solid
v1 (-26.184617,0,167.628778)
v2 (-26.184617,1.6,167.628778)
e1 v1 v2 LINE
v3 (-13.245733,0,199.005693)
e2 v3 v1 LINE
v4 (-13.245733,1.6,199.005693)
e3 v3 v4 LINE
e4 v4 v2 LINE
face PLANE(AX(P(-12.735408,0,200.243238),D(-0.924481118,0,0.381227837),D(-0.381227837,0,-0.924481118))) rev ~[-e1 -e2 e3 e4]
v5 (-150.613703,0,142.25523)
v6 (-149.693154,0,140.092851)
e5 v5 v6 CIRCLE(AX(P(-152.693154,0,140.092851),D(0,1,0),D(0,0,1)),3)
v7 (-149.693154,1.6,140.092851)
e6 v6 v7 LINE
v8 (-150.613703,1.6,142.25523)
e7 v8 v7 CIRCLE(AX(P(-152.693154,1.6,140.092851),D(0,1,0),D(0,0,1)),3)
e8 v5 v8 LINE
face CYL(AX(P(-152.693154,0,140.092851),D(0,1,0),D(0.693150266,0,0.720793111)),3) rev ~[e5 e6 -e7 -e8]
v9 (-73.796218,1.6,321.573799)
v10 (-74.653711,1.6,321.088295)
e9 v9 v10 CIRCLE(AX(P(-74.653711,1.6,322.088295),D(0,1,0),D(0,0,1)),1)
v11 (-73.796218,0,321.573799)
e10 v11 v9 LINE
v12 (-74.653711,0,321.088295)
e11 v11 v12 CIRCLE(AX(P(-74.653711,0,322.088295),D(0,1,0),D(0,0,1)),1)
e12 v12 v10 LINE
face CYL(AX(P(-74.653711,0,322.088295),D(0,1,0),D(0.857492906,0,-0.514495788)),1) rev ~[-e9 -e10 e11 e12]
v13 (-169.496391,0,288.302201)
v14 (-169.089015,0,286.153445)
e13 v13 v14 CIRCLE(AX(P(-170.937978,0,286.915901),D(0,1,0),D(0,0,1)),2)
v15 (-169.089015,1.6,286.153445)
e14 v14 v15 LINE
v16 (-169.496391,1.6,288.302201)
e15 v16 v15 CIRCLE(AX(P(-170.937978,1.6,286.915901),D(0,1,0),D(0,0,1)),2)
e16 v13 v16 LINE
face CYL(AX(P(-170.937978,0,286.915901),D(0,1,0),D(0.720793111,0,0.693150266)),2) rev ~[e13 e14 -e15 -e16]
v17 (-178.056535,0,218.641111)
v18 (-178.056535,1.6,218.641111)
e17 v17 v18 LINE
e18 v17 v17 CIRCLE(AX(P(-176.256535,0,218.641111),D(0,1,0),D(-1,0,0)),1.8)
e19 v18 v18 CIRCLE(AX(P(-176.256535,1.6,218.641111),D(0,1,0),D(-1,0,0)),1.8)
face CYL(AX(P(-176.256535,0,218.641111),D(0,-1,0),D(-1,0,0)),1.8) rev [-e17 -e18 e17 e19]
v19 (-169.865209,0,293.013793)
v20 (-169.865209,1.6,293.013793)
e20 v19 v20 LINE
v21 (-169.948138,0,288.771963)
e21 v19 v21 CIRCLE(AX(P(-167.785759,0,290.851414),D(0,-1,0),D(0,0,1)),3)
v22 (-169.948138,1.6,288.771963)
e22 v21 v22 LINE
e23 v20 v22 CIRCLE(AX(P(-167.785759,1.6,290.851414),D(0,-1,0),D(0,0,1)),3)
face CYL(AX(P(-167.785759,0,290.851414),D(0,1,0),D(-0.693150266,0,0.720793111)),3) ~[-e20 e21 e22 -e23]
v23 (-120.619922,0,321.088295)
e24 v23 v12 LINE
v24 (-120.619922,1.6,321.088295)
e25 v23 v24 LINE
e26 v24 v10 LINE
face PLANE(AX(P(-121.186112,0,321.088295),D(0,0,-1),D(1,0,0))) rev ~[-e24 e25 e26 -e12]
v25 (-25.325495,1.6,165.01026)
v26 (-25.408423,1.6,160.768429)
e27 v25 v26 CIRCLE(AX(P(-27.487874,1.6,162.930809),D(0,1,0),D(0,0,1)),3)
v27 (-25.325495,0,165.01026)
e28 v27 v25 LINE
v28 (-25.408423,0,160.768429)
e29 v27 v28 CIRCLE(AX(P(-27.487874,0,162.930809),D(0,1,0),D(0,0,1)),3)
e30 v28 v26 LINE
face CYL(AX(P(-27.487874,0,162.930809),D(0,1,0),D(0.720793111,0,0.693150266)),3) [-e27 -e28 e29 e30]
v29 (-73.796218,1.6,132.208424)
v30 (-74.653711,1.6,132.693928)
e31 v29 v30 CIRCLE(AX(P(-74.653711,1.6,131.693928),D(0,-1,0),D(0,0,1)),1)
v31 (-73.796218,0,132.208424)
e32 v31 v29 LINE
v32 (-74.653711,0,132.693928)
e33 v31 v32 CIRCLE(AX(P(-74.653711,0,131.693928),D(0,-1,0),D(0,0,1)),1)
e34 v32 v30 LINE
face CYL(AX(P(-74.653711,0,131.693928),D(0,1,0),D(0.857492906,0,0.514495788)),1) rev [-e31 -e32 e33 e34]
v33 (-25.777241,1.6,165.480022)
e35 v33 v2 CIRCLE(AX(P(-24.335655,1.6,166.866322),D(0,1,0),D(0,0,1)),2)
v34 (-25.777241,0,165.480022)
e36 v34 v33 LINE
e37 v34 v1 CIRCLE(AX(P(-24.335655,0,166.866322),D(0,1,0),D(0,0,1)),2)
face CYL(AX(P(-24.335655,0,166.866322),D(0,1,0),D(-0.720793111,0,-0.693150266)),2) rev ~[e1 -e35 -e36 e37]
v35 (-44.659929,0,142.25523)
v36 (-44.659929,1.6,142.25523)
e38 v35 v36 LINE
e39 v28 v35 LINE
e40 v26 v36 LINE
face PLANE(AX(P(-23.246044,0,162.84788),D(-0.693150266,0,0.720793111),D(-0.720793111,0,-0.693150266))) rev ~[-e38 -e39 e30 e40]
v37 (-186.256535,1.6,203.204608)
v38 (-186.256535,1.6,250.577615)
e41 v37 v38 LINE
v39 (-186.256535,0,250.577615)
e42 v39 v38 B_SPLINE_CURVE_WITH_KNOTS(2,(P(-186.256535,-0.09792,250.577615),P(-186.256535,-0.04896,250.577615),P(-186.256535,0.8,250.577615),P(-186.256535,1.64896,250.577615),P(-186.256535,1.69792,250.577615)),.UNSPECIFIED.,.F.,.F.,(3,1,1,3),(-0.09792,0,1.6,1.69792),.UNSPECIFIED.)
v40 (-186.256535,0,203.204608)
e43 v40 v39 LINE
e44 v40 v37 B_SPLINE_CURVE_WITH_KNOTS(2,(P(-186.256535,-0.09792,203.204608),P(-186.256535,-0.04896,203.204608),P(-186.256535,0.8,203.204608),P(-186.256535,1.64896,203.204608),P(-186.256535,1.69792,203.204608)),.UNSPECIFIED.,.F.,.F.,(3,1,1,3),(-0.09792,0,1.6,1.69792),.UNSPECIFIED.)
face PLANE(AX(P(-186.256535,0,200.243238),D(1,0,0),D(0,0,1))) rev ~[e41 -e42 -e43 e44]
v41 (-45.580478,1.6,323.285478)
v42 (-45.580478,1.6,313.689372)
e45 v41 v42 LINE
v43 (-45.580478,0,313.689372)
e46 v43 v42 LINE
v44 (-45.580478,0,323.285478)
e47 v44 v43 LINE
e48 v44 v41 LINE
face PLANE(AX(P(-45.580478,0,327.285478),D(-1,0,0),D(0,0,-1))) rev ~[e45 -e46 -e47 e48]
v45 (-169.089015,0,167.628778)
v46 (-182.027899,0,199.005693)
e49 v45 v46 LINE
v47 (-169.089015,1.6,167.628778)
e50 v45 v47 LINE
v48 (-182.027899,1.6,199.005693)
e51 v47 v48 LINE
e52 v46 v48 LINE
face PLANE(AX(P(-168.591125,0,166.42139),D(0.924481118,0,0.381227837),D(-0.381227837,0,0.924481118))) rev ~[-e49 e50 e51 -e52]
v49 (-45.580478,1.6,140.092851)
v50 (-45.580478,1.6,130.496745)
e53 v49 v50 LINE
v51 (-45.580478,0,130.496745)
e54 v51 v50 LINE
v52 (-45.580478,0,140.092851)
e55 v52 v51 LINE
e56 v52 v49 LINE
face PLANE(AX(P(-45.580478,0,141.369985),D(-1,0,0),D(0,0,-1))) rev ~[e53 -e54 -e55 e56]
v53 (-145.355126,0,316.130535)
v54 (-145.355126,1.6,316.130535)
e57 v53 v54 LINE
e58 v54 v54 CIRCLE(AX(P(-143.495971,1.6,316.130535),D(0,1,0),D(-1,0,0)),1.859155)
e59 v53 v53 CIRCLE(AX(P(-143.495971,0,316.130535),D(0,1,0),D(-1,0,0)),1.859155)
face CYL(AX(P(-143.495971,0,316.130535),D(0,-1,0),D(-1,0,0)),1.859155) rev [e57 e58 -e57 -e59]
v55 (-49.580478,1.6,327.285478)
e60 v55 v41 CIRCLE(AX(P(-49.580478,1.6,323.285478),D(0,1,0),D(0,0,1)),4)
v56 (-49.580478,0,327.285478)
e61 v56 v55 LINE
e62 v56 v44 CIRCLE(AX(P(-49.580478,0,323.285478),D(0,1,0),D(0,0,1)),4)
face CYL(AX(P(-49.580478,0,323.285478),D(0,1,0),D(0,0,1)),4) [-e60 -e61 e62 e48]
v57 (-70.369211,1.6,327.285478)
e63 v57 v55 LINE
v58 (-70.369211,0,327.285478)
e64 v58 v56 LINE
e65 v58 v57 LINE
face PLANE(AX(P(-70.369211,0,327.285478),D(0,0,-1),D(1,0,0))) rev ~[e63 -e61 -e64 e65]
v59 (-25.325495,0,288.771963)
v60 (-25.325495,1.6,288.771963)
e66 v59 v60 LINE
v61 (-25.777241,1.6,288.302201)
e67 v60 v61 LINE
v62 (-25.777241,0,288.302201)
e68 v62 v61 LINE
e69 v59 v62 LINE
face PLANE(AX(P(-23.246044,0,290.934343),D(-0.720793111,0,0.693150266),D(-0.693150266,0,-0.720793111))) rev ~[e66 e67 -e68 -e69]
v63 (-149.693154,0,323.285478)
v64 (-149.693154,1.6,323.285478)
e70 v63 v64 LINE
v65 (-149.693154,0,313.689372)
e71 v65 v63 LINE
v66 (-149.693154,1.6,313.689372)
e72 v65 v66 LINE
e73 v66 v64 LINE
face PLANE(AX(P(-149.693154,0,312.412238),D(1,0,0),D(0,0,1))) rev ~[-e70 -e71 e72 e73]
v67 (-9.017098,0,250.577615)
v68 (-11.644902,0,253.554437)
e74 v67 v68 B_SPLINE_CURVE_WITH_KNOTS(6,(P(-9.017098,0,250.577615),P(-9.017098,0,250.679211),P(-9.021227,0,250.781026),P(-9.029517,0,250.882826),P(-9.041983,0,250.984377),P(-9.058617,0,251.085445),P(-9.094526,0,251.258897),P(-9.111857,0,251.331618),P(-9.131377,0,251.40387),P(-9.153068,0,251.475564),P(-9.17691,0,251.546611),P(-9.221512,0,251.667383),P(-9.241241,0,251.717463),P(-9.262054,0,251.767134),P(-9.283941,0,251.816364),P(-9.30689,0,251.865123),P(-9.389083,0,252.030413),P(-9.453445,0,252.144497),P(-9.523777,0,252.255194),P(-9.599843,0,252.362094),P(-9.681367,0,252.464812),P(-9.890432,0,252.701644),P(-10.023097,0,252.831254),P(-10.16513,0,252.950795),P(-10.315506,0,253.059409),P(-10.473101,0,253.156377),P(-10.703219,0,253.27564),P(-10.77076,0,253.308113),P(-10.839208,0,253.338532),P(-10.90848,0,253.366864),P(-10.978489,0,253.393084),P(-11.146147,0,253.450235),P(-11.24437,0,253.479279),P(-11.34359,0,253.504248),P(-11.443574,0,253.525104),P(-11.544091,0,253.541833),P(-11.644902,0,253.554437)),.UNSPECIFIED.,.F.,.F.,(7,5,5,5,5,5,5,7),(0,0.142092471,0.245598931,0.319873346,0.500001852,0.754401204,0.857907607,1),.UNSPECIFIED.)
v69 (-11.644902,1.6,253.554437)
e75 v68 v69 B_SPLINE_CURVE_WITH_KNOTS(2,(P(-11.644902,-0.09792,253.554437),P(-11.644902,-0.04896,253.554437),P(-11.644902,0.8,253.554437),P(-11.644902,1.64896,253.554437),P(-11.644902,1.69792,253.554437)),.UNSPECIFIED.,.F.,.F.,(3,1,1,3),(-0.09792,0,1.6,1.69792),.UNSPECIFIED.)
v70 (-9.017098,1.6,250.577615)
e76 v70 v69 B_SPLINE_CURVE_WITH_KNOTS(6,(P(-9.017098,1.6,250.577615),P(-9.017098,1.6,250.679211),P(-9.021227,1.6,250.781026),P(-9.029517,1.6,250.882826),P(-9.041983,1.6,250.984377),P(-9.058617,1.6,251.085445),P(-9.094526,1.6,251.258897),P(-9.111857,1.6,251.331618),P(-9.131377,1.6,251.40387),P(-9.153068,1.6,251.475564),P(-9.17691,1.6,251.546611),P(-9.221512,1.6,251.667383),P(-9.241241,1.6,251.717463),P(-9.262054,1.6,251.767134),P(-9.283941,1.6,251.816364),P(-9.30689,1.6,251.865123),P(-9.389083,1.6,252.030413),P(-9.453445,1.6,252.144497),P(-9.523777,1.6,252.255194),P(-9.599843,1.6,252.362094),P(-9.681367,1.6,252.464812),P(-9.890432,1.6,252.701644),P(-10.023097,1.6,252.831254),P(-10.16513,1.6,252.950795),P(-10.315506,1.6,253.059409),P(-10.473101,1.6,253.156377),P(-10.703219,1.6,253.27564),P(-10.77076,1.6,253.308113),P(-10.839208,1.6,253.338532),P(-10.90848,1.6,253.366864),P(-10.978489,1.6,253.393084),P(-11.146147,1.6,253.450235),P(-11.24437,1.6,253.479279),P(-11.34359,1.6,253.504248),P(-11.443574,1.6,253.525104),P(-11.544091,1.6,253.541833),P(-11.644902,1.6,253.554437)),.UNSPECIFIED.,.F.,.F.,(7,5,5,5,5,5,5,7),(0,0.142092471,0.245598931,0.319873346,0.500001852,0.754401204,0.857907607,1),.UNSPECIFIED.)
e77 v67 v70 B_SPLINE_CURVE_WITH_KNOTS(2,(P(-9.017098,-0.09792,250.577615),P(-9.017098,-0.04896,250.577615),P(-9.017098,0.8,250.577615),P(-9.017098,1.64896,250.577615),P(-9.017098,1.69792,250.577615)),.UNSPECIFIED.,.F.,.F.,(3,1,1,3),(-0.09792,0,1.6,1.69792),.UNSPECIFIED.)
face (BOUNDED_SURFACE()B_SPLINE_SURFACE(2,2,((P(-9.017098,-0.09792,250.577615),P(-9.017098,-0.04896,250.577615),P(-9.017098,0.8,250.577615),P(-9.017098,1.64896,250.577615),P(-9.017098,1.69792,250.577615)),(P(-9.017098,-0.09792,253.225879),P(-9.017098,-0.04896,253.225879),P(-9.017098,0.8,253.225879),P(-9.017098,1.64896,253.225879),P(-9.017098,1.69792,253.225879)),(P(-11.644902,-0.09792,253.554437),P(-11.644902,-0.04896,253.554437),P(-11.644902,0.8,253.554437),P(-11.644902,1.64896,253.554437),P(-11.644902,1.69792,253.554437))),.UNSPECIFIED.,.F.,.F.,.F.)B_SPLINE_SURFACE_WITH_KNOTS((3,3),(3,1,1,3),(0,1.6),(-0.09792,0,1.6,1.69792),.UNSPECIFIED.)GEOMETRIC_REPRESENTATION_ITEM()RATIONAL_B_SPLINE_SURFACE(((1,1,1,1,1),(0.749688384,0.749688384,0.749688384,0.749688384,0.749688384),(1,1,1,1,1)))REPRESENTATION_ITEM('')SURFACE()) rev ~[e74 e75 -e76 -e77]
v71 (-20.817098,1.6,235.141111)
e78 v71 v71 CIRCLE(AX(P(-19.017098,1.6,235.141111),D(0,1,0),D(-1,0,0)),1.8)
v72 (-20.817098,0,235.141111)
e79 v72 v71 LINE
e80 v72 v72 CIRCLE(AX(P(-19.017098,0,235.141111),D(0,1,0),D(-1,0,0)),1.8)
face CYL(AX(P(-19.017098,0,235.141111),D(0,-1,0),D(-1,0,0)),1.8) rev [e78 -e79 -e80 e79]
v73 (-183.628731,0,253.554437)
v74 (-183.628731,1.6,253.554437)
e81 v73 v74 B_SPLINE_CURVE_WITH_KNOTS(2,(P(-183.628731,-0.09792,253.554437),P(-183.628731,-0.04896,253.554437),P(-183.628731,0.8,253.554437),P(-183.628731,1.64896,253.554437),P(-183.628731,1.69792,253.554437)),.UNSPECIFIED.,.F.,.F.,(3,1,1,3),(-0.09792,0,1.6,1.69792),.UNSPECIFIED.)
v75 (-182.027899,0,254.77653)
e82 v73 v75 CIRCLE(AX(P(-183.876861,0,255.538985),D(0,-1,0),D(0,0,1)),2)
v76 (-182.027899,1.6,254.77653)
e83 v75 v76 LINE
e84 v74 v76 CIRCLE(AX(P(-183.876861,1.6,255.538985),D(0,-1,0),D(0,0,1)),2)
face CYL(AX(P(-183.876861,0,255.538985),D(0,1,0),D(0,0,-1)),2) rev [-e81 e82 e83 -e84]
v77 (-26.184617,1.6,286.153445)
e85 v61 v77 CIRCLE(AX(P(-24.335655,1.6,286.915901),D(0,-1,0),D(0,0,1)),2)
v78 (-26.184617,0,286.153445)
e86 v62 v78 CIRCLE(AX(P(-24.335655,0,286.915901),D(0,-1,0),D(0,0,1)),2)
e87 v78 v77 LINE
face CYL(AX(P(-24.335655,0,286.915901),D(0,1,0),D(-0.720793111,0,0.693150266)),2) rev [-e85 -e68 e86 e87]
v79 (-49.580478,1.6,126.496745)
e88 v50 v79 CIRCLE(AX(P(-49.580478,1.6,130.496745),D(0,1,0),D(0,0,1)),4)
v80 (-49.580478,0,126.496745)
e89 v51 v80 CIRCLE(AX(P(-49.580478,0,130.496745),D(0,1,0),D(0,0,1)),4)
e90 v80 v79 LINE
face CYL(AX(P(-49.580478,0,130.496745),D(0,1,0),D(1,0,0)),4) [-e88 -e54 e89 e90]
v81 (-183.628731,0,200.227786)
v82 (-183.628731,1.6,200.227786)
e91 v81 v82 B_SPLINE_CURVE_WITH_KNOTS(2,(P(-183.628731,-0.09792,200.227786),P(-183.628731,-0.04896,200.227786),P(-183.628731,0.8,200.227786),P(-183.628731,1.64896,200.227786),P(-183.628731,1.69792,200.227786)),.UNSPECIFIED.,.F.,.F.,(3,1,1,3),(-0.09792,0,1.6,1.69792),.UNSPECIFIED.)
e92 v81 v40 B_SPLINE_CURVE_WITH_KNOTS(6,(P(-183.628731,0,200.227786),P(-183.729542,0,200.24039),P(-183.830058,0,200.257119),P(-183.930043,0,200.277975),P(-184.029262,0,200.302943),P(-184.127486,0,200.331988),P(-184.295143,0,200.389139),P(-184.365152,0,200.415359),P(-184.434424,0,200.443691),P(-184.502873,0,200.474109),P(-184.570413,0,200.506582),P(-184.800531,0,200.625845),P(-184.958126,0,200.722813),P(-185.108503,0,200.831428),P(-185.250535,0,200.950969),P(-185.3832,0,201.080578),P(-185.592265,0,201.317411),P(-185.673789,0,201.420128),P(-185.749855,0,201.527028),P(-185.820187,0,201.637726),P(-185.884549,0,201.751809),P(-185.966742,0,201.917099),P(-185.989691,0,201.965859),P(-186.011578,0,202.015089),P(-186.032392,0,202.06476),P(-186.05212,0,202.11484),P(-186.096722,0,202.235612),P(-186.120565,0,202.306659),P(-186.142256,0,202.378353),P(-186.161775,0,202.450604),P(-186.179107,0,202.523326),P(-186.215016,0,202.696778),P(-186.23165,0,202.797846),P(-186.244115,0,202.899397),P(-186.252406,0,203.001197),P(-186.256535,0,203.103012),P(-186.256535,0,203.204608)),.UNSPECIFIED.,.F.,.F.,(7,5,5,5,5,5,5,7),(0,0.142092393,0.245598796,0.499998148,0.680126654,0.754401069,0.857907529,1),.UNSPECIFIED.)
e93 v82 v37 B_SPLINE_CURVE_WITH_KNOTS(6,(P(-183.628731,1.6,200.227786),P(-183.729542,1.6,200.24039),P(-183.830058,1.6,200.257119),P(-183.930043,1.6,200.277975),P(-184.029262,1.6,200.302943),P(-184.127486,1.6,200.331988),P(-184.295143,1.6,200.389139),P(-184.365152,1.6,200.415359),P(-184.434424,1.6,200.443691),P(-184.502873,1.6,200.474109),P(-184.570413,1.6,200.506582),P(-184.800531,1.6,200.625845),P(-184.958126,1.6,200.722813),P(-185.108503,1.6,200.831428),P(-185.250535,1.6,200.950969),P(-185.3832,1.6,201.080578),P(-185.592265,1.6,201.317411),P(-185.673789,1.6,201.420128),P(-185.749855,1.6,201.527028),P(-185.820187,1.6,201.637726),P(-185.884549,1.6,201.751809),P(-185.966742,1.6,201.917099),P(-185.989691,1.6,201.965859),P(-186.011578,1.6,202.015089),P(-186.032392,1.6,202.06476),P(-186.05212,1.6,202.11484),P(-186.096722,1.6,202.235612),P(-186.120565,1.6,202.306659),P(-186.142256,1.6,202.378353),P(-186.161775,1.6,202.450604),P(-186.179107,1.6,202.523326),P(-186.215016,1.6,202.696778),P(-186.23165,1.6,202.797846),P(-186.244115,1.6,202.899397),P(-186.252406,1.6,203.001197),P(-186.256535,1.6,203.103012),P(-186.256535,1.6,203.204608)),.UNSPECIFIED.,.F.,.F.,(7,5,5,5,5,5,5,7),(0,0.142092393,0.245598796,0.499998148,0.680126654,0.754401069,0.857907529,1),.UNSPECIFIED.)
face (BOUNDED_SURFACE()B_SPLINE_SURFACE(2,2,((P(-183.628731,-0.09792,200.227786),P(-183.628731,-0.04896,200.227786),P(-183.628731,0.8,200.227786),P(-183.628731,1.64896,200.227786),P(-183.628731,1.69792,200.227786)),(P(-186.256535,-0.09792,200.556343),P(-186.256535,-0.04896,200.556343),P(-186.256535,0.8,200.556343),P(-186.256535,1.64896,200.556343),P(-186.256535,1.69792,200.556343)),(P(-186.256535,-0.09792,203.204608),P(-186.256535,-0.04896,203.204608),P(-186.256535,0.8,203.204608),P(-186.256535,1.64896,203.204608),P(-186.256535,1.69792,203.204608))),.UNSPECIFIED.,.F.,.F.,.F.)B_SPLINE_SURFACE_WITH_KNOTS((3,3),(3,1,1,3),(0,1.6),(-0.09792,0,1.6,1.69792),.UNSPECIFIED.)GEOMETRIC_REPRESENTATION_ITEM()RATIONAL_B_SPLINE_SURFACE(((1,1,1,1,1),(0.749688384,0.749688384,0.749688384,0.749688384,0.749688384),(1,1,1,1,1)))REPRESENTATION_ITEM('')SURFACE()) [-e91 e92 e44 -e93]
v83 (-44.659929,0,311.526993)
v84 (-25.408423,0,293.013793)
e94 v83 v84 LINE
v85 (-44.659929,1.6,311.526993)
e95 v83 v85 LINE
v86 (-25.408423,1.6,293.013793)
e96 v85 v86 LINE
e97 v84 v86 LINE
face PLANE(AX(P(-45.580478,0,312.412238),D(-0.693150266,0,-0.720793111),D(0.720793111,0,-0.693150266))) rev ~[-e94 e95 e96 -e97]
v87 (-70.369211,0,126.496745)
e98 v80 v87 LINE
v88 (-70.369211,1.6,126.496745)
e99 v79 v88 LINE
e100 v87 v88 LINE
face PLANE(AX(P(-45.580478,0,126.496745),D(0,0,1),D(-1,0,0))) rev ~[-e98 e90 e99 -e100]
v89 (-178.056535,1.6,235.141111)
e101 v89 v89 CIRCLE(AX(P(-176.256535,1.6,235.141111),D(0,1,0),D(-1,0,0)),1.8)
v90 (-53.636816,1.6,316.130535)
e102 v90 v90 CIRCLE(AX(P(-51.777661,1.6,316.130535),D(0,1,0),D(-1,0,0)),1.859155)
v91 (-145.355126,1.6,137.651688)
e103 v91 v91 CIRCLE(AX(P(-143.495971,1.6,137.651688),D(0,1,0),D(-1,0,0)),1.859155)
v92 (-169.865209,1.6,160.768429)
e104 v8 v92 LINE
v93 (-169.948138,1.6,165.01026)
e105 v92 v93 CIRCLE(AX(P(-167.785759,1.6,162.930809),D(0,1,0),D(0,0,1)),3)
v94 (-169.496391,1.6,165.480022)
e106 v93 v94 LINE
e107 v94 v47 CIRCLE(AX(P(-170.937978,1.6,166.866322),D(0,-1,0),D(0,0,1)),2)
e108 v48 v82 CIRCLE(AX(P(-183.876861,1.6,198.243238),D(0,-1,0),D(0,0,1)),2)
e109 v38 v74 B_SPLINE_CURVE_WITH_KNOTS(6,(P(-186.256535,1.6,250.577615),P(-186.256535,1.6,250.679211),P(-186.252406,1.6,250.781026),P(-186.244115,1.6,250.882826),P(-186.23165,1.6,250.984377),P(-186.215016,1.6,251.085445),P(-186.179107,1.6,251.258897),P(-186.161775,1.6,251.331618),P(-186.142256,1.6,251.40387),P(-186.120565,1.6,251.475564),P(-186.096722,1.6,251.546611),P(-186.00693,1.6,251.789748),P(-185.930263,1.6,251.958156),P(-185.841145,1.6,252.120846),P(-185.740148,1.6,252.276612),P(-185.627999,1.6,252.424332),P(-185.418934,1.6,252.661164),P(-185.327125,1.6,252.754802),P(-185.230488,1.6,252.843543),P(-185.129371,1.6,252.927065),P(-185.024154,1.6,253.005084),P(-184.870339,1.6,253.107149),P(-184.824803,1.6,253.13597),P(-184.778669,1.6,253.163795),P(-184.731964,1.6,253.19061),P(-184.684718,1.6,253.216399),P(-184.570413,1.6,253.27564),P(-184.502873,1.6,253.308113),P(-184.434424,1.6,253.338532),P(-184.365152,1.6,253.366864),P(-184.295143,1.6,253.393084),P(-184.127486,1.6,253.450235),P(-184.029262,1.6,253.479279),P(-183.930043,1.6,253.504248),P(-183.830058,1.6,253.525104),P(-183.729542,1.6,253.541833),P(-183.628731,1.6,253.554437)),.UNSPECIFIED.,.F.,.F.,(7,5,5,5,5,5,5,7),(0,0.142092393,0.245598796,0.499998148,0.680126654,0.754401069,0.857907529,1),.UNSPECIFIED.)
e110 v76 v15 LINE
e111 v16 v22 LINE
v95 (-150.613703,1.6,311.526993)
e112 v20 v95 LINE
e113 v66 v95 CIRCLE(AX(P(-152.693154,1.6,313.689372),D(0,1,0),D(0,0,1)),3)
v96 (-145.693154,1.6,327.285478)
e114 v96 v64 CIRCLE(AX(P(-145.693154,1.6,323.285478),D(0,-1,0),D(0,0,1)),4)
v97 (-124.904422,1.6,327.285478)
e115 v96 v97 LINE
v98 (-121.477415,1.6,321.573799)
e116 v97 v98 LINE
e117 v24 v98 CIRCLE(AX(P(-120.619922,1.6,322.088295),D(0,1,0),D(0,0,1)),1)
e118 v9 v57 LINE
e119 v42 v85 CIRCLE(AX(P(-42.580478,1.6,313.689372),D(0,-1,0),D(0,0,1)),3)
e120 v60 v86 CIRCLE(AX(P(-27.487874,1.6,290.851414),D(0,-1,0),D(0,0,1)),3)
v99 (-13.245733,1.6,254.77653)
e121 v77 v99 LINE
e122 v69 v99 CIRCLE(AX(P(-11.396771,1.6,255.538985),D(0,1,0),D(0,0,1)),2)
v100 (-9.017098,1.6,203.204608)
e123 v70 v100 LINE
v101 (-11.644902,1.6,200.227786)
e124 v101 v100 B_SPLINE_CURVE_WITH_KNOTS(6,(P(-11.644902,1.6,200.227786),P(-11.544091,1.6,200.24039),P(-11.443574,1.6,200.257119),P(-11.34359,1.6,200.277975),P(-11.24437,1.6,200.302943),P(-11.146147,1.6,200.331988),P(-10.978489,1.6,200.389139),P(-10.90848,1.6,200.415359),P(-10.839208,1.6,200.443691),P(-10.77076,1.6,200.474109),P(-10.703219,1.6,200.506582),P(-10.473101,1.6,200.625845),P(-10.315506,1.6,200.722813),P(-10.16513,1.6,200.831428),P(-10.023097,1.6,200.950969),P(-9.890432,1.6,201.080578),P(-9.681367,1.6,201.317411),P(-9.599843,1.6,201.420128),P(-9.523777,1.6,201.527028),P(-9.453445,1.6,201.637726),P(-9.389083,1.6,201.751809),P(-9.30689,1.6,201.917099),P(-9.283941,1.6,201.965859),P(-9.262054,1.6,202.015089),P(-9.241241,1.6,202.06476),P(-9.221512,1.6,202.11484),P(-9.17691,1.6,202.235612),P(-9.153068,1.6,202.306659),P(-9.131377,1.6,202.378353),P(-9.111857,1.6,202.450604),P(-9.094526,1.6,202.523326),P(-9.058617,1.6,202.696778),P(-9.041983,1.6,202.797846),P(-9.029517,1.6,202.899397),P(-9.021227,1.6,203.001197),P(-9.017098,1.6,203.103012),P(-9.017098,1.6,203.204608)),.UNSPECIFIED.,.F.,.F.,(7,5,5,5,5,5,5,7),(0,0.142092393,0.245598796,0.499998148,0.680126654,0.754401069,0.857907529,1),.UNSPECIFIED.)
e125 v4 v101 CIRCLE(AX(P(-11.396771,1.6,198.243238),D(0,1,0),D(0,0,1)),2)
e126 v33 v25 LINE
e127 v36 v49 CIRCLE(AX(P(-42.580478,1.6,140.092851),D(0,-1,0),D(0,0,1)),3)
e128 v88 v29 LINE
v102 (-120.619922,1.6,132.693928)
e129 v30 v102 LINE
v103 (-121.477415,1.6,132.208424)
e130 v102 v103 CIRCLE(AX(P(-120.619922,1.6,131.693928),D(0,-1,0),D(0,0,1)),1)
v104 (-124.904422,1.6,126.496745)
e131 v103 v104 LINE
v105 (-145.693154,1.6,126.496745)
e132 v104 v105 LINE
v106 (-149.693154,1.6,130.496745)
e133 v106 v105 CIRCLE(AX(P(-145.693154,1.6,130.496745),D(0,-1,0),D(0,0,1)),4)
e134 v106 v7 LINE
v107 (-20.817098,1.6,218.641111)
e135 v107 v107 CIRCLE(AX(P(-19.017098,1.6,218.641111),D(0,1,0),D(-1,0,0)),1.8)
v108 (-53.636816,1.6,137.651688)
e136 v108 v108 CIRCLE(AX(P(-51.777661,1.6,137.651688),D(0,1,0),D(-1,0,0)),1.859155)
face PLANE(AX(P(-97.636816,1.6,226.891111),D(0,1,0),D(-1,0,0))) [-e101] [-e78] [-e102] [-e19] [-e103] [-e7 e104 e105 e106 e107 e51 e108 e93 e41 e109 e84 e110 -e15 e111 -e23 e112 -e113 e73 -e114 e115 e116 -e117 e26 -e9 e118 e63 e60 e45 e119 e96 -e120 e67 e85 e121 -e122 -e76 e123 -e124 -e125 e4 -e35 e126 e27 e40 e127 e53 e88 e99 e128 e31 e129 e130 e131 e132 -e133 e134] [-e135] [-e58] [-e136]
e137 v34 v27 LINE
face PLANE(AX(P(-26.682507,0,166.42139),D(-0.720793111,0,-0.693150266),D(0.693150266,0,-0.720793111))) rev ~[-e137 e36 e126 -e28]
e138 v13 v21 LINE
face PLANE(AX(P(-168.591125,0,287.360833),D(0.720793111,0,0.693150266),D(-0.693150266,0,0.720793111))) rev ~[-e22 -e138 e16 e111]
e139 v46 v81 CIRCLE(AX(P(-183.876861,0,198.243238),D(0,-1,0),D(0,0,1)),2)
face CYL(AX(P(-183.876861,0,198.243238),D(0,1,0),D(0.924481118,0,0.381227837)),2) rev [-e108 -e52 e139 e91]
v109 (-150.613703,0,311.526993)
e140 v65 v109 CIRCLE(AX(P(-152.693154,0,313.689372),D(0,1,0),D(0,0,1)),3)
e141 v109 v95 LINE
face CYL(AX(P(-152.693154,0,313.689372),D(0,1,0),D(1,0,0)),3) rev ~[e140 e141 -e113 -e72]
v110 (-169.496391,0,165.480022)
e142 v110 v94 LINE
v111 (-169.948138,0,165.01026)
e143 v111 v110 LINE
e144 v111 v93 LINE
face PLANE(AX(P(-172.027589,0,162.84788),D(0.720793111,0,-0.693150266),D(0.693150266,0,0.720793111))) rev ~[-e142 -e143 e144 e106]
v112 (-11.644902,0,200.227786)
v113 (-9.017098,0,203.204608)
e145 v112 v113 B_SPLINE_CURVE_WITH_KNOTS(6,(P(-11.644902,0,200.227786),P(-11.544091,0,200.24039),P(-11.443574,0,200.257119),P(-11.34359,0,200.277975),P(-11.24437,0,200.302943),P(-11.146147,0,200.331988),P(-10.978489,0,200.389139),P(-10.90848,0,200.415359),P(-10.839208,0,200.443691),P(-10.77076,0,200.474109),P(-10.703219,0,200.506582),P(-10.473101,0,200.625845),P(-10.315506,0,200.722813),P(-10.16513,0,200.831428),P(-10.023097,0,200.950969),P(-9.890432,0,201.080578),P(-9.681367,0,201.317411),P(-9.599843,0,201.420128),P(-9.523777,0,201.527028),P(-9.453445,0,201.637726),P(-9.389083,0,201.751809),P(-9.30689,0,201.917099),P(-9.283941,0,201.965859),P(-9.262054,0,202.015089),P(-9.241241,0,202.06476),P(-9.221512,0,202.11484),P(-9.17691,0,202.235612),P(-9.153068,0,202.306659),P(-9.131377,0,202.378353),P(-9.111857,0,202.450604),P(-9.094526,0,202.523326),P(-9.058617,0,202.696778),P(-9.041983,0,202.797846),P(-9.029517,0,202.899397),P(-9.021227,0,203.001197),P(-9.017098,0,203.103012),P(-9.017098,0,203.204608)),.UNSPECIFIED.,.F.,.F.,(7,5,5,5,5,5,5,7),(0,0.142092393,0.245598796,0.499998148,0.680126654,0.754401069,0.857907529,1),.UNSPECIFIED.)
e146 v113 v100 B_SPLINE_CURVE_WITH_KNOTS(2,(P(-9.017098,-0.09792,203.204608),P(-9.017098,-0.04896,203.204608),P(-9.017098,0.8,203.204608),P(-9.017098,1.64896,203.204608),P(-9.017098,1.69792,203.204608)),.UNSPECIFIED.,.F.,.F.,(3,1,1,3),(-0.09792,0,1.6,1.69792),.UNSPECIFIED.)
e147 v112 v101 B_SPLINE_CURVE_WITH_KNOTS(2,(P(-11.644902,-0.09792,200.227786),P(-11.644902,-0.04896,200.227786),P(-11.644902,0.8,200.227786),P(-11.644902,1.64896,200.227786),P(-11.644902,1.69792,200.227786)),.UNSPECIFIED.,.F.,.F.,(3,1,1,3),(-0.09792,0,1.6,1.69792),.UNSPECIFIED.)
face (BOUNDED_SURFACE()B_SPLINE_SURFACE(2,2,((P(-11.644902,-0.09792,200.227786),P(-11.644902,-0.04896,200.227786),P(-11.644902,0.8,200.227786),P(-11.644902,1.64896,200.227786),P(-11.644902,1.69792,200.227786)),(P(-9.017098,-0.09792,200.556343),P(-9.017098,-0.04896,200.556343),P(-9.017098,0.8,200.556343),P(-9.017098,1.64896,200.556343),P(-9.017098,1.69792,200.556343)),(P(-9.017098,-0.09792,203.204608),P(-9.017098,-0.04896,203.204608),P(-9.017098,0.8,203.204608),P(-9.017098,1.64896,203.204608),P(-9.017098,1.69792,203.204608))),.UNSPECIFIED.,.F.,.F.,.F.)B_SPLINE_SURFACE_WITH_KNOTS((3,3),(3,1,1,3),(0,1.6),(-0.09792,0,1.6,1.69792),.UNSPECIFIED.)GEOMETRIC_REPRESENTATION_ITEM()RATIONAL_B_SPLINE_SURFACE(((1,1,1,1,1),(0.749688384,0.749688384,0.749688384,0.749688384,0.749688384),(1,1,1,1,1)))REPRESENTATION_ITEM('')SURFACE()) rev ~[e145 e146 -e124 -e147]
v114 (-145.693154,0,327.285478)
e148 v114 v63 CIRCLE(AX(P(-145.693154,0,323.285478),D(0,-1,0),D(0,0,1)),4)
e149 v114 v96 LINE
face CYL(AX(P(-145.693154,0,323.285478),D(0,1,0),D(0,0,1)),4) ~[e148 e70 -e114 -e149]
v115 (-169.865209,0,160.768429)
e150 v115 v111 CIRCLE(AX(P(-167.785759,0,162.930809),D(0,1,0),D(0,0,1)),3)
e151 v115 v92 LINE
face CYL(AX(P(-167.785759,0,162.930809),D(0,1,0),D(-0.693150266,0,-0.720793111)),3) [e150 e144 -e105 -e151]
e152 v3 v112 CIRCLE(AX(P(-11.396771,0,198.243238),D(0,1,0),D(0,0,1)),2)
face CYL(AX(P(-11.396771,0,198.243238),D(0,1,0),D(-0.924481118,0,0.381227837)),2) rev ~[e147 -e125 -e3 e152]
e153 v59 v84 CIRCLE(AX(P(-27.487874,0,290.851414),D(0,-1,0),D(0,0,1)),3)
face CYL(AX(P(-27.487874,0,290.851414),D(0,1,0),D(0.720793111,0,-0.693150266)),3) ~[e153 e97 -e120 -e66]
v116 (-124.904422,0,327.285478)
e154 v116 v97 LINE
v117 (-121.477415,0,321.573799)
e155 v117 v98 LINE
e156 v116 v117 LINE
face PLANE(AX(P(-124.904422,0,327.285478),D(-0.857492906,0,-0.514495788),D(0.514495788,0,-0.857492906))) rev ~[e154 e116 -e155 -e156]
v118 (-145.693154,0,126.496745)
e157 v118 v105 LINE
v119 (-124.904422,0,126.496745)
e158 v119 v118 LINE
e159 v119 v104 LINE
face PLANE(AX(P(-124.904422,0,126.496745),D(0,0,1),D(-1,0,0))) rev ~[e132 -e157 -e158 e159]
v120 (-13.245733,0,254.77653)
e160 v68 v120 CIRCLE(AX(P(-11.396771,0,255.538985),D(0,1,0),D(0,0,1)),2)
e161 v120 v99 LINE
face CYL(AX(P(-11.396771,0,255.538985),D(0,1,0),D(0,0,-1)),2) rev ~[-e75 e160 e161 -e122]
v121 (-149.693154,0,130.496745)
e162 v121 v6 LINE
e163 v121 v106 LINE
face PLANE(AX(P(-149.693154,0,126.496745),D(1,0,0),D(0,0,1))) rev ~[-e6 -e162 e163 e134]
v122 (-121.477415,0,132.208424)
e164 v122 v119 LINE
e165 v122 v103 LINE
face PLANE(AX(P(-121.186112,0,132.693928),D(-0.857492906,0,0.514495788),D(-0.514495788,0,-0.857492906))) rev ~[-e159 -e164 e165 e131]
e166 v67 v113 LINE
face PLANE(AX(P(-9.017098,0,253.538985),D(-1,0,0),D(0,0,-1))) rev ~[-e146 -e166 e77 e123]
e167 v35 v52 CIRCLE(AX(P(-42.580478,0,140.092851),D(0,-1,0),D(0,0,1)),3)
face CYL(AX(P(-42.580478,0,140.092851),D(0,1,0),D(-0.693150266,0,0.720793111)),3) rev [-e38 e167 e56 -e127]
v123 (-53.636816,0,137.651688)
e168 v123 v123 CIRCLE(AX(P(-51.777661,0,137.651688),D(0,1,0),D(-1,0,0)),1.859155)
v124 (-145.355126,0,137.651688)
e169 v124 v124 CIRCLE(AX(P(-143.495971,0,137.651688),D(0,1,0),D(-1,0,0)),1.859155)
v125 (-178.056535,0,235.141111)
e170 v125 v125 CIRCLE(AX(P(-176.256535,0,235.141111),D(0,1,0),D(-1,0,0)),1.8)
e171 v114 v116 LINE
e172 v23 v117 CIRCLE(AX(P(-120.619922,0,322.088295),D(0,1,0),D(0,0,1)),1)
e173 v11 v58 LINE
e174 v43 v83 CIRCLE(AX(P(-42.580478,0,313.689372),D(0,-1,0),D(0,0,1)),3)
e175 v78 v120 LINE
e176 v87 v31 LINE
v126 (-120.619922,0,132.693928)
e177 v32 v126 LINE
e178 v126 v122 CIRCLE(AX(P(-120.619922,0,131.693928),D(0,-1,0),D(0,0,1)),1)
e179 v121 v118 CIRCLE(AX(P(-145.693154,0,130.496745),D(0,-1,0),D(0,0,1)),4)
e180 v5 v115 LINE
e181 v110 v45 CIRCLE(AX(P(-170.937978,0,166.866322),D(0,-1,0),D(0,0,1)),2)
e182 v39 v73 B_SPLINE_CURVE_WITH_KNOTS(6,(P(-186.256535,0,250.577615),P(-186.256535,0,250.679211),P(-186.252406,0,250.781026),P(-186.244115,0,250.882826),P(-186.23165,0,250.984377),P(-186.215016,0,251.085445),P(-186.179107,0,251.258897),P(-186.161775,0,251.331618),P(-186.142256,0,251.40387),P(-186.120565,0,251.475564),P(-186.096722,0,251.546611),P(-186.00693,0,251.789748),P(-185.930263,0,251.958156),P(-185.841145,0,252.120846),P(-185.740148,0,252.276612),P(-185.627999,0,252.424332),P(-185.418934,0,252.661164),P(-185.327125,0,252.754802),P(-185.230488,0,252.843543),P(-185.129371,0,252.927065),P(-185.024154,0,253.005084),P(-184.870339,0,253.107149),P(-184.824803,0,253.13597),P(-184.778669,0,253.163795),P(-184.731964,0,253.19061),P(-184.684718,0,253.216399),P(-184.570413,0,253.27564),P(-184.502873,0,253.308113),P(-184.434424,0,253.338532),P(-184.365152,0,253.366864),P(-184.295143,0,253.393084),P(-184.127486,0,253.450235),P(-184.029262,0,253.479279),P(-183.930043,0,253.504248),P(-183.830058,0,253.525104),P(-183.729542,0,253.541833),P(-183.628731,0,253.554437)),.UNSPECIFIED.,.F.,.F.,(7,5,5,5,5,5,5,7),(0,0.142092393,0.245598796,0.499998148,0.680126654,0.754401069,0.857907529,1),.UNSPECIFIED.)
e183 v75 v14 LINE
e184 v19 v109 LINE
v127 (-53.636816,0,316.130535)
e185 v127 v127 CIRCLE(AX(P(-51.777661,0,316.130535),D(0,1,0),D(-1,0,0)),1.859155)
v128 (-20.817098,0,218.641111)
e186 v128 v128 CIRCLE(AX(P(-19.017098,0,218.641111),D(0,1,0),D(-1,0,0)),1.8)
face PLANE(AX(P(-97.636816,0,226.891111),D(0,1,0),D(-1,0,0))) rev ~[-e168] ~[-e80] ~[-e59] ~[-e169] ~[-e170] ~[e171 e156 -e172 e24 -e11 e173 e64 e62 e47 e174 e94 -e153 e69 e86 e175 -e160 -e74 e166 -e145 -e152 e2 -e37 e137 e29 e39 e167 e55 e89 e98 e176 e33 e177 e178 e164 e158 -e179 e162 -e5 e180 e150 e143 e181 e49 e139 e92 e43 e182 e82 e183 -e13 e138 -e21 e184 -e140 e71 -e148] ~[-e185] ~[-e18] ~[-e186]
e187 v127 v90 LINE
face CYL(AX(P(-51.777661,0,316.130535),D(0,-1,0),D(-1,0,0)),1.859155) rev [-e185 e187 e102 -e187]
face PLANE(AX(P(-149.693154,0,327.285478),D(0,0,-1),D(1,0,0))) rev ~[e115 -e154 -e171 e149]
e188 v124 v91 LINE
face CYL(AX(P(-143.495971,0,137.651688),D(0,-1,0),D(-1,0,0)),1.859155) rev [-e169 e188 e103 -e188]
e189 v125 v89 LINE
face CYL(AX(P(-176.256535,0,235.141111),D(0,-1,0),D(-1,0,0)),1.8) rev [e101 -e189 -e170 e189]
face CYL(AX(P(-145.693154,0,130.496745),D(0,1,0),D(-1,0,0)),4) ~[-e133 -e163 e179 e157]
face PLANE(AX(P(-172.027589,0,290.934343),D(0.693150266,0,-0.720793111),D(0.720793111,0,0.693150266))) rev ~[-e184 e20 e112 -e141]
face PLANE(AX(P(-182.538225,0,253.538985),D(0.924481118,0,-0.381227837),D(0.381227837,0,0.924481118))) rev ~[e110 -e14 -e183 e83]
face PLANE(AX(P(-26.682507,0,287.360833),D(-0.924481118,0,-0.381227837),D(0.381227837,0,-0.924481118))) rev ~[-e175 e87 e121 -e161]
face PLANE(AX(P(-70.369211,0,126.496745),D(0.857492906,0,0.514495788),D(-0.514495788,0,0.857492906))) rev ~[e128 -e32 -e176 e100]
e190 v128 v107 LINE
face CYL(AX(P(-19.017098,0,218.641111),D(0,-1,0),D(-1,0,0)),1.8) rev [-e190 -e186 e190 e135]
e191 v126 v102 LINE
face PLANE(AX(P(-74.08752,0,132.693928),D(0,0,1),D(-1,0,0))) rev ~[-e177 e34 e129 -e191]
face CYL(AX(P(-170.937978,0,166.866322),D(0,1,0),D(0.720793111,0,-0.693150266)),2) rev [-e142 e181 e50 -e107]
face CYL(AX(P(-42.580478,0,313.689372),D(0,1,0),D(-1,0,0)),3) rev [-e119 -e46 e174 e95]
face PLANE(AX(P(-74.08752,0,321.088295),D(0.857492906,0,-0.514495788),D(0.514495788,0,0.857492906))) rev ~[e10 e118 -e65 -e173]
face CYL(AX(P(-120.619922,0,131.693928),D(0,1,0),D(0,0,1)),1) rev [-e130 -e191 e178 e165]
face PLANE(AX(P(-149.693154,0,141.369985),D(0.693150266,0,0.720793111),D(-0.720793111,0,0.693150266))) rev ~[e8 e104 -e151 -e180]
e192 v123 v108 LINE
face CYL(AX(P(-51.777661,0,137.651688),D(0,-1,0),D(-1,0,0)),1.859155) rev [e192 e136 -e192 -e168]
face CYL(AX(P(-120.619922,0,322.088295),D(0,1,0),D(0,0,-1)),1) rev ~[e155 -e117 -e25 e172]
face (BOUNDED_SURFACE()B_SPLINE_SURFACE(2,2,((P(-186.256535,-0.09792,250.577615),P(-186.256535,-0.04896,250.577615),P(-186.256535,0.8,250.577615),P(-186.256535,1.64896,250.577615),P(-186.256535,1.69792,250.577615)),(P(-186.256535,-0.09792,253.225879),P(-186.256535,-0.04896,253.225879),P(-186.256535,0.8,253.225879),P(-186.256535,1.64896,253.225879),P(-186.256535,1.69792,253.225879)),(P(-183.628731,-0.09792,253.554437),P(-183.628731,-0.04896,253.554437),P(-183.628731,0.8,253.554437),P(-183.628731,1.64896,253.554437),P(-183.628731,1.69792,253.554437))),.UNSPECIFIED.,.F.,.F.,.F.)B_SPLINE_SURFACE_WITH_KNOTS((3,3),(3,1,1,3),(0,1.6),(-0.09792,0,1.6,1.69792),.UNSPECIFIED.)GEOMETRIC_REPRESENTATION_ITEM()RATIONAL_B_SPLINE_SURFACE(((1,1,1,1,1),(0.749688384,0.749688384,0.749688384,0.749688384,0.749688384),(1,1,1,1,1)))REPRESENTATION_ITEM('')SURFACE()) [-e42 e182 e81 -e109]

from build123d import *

# Parameters (mm, degrees)
SKETCH1_R        = 1.8
SKETCH1_R_2      = 1.85915493
EXTRUSION1_DEPTH = 1.6
FILLET1_R        = 1
FILLET2_R        = 4
FILLET3_R        = 3
FILLET4_R        = 3
FILLET5_R        = 2
FILLET6_R        = 2
FILLET7_R        = 3
FILLET8_R        = 3
FILLET9_R        = 2
FILLET10_R       = 2
FILLET11_R       = 3


with BuildPart() as part:
    # Sketch1 → Extrusion1 (new body)
    with BuildSketch(Plane(origin=(0, 0, 0), x_dir=(-1, 0, 0), z_dir=(0, 1, 0))):
        Polygon((74.087520418, 321.088295015), (70.369210559, 327.285477572), (45.580478165, 327.285477572), (45.580478165, 312.412238135), (23.246043749, 290.934342561), (26.682507041, 287.360833055), (12.735407819, 253.538985229), (9.017097883, 253.538985229), (9.017097883, 226.891111382), (9.017097883, 200.243237534), (12.735407819, 200.243237534), (26.682507041, 166.421389708), (23.246043749, 162.847880202), (45.580478165, 141.369984628), (45.580478165, 126.496745191), (70.369210559, 126.496745191), (74.087520418, 132.693927748), (97.636816193, 132.693927748), (121.186111968, 132.693927748), (124.904421827, 126.496745191), (149.693154221, 126.496745191), (149.693154221, 141.369984628), (172.027588636, 162.847880202), (168.591125345, 166.421389708), (182.538224567, 200.243237534), (186.256534503, 200.243237534), (186.256534503, 226.891111382), (186.256534503, 253.538985229), (182.538224567, 253.538985229), (168.591125345, 287.360833055), (172.027588636, 290.934342561), (149.693154221, 312.412238135), (149.693154221, 327.285477572), (124.904421827, 327.285477572), (121.186111968, 321.088295015), (97.636816193, 321.088295015), align=None)
        with Locations((176.256534503, 218.641111382)):
            Circle(SKETCH1_R, mode=Mode.SUBTRACT)
        with Locations((176.256534503, 235.141111382)):
            Circle(SKETCH1_R, mode=Mode.SUBTRACT)
        with Locations((19.017097883, 218.641111382)):
            Circle(SKETCH1_R, mode=Mode.SUBTRACT)
        with Locations((19.017097883, 235.141111382)):
            Circle(SKETCH1_R, mode=Mode.SUBTRACT)
        with Locations((51.777661187, 316.130534525)):
            Circle(SKETCH1_R_2, mode=Mode.SUBTRACT)
        with Locations((143.495971199, 137.651688238)):
            Circle(SKETCH1_R_2, mode=Mode.SUBTRACT)
        with Locations((143.495971199, 316.130534525)):
            Circle(SKETCH1_R_2, mode=Mode.SUBTRACT)
        with Locations((51.777661187, 137.651688238)):
            Circle(SKETCH1_R_2, mode=Mode.SUBTRACT)
    extrude(amount=EXTRUSION1_DEPTH)

    # Fillet1
    fillet1_edges = [part.edges().sort_by_distance(p)[0] for p in [
        (-121.186111968, 0.8, 321.088295015),
        (-121.186111968, 0.8, 132.693927748),
        (-74.087520418, 0.8, 132.693927748),
        (-74.087520418, 0.8, 321.088295015),
    ]]
    fillet(fillet1_edges, radius=FILLET1_R)

    # Fillet2
    fillet2_edges = [part.edges().sort_by_distance(p)[0] for p in [
        (-149.693154221, 0.8, 327.285477572),
        (-149.693154221, 0.8, 126.496745191),
        (-45.580478165, 0.8, 126.496745191),
        (-45.580478165, 0.8, 327.285477572),
    ]]
    fillet(fillet2_edges, radius=FILLET2_R)

    # Fillet3
    fillet3_edges = [part.edges().sort_by_distance(p)[0] for p in [
        (-149.693154221, 0.8, 312.412238135),
        (-149.693154221, 0.8, 141.369984628),
        (-45.580478165, 0.8, 141.369984628),
        (-45.580478165, 0.8, 312.412238135),
    ]]
    fillet(fillet3_edges, radius=FILLET3_R)

    # Fillet4
    fillet4_edges = [part.edges().sort_by_distance(p)[0] for p in [
        (-172.027588636, 0.8, 290.934342561),
    ]]
    fillet(fillet4_edges, radius=FILLET4_R)

    # Fillet5
    fillet5_edges = [part.edges().sort_by_distance(p)[0] for p in [
        (-168.591125345, 0.8, 287.360833055),
    ]]
    fillet(fillet5_edges, radius=FILLET5_R)

    # Fillet6
    fillet6_edges = [part.edges().sort_by_distance(p)[0] for p in [
        (-26.682507041, 0.8, 287.360833055),
    ]]
    fillet(fillet6_edges, radius=FILLET6_R)

    # Fillet7
    fillet7_edges = [part.edges().sort_by_distance(p)[0] for p in [
        (-23.246043749, 0.8, 290.934342561),
    ]]
    fillet(fillet7_edges, radius=FILLET7_R)

    # Fillet8
    fillet8_edges = [part.edges().sort_by_distance(p)[0] for p in [
        (-172.027588636, 0.8, 162.847880202),
        (-23.246043749, 0.8, 162.847880202),
    ]]
    fillet(fillet8_edges, radius=FILLET8_R)

    # Fillet9
    fillet9_edges = [part.edges().sort_by_distance(p)[0] for p in [
        (-168.591125345, 0.8, 166.421389708),
        (-26.682507041, 0.8, 166.421389708),
    ]]
    fillet(fillet9_edges, radius=FILLET9_R)

    # Fillet10
    fillet10_edges = [part.edges().sort_by_distance(p)[0] for p in [
        (-182.538224567, 0.8, 253.538985229),
        (-182.538224567, 0.8, 200.243237534),
        (-12.735407819, 0.8, 200.243237534),
        (-12.735407819, 0.8, 253.538985229),
    ]]
    fillet(fillet10_edges, radius=FILLET10_R)

    # Fillet11
    fillet11_edges = [part.edges().sort_by_distance(p)[0] for p in [
        (-186.256534503, 0.8, 200.243237534),
        (-186.256534503, 0.8, 253.538985229),
        (-9.017097883, 0.8, 253.538985229),
        (-9.017097883, 0.8, 200.243237534),
    ]]
    fillet(fillet11_edges, radius=FILLET11_R)


solid = part.part
